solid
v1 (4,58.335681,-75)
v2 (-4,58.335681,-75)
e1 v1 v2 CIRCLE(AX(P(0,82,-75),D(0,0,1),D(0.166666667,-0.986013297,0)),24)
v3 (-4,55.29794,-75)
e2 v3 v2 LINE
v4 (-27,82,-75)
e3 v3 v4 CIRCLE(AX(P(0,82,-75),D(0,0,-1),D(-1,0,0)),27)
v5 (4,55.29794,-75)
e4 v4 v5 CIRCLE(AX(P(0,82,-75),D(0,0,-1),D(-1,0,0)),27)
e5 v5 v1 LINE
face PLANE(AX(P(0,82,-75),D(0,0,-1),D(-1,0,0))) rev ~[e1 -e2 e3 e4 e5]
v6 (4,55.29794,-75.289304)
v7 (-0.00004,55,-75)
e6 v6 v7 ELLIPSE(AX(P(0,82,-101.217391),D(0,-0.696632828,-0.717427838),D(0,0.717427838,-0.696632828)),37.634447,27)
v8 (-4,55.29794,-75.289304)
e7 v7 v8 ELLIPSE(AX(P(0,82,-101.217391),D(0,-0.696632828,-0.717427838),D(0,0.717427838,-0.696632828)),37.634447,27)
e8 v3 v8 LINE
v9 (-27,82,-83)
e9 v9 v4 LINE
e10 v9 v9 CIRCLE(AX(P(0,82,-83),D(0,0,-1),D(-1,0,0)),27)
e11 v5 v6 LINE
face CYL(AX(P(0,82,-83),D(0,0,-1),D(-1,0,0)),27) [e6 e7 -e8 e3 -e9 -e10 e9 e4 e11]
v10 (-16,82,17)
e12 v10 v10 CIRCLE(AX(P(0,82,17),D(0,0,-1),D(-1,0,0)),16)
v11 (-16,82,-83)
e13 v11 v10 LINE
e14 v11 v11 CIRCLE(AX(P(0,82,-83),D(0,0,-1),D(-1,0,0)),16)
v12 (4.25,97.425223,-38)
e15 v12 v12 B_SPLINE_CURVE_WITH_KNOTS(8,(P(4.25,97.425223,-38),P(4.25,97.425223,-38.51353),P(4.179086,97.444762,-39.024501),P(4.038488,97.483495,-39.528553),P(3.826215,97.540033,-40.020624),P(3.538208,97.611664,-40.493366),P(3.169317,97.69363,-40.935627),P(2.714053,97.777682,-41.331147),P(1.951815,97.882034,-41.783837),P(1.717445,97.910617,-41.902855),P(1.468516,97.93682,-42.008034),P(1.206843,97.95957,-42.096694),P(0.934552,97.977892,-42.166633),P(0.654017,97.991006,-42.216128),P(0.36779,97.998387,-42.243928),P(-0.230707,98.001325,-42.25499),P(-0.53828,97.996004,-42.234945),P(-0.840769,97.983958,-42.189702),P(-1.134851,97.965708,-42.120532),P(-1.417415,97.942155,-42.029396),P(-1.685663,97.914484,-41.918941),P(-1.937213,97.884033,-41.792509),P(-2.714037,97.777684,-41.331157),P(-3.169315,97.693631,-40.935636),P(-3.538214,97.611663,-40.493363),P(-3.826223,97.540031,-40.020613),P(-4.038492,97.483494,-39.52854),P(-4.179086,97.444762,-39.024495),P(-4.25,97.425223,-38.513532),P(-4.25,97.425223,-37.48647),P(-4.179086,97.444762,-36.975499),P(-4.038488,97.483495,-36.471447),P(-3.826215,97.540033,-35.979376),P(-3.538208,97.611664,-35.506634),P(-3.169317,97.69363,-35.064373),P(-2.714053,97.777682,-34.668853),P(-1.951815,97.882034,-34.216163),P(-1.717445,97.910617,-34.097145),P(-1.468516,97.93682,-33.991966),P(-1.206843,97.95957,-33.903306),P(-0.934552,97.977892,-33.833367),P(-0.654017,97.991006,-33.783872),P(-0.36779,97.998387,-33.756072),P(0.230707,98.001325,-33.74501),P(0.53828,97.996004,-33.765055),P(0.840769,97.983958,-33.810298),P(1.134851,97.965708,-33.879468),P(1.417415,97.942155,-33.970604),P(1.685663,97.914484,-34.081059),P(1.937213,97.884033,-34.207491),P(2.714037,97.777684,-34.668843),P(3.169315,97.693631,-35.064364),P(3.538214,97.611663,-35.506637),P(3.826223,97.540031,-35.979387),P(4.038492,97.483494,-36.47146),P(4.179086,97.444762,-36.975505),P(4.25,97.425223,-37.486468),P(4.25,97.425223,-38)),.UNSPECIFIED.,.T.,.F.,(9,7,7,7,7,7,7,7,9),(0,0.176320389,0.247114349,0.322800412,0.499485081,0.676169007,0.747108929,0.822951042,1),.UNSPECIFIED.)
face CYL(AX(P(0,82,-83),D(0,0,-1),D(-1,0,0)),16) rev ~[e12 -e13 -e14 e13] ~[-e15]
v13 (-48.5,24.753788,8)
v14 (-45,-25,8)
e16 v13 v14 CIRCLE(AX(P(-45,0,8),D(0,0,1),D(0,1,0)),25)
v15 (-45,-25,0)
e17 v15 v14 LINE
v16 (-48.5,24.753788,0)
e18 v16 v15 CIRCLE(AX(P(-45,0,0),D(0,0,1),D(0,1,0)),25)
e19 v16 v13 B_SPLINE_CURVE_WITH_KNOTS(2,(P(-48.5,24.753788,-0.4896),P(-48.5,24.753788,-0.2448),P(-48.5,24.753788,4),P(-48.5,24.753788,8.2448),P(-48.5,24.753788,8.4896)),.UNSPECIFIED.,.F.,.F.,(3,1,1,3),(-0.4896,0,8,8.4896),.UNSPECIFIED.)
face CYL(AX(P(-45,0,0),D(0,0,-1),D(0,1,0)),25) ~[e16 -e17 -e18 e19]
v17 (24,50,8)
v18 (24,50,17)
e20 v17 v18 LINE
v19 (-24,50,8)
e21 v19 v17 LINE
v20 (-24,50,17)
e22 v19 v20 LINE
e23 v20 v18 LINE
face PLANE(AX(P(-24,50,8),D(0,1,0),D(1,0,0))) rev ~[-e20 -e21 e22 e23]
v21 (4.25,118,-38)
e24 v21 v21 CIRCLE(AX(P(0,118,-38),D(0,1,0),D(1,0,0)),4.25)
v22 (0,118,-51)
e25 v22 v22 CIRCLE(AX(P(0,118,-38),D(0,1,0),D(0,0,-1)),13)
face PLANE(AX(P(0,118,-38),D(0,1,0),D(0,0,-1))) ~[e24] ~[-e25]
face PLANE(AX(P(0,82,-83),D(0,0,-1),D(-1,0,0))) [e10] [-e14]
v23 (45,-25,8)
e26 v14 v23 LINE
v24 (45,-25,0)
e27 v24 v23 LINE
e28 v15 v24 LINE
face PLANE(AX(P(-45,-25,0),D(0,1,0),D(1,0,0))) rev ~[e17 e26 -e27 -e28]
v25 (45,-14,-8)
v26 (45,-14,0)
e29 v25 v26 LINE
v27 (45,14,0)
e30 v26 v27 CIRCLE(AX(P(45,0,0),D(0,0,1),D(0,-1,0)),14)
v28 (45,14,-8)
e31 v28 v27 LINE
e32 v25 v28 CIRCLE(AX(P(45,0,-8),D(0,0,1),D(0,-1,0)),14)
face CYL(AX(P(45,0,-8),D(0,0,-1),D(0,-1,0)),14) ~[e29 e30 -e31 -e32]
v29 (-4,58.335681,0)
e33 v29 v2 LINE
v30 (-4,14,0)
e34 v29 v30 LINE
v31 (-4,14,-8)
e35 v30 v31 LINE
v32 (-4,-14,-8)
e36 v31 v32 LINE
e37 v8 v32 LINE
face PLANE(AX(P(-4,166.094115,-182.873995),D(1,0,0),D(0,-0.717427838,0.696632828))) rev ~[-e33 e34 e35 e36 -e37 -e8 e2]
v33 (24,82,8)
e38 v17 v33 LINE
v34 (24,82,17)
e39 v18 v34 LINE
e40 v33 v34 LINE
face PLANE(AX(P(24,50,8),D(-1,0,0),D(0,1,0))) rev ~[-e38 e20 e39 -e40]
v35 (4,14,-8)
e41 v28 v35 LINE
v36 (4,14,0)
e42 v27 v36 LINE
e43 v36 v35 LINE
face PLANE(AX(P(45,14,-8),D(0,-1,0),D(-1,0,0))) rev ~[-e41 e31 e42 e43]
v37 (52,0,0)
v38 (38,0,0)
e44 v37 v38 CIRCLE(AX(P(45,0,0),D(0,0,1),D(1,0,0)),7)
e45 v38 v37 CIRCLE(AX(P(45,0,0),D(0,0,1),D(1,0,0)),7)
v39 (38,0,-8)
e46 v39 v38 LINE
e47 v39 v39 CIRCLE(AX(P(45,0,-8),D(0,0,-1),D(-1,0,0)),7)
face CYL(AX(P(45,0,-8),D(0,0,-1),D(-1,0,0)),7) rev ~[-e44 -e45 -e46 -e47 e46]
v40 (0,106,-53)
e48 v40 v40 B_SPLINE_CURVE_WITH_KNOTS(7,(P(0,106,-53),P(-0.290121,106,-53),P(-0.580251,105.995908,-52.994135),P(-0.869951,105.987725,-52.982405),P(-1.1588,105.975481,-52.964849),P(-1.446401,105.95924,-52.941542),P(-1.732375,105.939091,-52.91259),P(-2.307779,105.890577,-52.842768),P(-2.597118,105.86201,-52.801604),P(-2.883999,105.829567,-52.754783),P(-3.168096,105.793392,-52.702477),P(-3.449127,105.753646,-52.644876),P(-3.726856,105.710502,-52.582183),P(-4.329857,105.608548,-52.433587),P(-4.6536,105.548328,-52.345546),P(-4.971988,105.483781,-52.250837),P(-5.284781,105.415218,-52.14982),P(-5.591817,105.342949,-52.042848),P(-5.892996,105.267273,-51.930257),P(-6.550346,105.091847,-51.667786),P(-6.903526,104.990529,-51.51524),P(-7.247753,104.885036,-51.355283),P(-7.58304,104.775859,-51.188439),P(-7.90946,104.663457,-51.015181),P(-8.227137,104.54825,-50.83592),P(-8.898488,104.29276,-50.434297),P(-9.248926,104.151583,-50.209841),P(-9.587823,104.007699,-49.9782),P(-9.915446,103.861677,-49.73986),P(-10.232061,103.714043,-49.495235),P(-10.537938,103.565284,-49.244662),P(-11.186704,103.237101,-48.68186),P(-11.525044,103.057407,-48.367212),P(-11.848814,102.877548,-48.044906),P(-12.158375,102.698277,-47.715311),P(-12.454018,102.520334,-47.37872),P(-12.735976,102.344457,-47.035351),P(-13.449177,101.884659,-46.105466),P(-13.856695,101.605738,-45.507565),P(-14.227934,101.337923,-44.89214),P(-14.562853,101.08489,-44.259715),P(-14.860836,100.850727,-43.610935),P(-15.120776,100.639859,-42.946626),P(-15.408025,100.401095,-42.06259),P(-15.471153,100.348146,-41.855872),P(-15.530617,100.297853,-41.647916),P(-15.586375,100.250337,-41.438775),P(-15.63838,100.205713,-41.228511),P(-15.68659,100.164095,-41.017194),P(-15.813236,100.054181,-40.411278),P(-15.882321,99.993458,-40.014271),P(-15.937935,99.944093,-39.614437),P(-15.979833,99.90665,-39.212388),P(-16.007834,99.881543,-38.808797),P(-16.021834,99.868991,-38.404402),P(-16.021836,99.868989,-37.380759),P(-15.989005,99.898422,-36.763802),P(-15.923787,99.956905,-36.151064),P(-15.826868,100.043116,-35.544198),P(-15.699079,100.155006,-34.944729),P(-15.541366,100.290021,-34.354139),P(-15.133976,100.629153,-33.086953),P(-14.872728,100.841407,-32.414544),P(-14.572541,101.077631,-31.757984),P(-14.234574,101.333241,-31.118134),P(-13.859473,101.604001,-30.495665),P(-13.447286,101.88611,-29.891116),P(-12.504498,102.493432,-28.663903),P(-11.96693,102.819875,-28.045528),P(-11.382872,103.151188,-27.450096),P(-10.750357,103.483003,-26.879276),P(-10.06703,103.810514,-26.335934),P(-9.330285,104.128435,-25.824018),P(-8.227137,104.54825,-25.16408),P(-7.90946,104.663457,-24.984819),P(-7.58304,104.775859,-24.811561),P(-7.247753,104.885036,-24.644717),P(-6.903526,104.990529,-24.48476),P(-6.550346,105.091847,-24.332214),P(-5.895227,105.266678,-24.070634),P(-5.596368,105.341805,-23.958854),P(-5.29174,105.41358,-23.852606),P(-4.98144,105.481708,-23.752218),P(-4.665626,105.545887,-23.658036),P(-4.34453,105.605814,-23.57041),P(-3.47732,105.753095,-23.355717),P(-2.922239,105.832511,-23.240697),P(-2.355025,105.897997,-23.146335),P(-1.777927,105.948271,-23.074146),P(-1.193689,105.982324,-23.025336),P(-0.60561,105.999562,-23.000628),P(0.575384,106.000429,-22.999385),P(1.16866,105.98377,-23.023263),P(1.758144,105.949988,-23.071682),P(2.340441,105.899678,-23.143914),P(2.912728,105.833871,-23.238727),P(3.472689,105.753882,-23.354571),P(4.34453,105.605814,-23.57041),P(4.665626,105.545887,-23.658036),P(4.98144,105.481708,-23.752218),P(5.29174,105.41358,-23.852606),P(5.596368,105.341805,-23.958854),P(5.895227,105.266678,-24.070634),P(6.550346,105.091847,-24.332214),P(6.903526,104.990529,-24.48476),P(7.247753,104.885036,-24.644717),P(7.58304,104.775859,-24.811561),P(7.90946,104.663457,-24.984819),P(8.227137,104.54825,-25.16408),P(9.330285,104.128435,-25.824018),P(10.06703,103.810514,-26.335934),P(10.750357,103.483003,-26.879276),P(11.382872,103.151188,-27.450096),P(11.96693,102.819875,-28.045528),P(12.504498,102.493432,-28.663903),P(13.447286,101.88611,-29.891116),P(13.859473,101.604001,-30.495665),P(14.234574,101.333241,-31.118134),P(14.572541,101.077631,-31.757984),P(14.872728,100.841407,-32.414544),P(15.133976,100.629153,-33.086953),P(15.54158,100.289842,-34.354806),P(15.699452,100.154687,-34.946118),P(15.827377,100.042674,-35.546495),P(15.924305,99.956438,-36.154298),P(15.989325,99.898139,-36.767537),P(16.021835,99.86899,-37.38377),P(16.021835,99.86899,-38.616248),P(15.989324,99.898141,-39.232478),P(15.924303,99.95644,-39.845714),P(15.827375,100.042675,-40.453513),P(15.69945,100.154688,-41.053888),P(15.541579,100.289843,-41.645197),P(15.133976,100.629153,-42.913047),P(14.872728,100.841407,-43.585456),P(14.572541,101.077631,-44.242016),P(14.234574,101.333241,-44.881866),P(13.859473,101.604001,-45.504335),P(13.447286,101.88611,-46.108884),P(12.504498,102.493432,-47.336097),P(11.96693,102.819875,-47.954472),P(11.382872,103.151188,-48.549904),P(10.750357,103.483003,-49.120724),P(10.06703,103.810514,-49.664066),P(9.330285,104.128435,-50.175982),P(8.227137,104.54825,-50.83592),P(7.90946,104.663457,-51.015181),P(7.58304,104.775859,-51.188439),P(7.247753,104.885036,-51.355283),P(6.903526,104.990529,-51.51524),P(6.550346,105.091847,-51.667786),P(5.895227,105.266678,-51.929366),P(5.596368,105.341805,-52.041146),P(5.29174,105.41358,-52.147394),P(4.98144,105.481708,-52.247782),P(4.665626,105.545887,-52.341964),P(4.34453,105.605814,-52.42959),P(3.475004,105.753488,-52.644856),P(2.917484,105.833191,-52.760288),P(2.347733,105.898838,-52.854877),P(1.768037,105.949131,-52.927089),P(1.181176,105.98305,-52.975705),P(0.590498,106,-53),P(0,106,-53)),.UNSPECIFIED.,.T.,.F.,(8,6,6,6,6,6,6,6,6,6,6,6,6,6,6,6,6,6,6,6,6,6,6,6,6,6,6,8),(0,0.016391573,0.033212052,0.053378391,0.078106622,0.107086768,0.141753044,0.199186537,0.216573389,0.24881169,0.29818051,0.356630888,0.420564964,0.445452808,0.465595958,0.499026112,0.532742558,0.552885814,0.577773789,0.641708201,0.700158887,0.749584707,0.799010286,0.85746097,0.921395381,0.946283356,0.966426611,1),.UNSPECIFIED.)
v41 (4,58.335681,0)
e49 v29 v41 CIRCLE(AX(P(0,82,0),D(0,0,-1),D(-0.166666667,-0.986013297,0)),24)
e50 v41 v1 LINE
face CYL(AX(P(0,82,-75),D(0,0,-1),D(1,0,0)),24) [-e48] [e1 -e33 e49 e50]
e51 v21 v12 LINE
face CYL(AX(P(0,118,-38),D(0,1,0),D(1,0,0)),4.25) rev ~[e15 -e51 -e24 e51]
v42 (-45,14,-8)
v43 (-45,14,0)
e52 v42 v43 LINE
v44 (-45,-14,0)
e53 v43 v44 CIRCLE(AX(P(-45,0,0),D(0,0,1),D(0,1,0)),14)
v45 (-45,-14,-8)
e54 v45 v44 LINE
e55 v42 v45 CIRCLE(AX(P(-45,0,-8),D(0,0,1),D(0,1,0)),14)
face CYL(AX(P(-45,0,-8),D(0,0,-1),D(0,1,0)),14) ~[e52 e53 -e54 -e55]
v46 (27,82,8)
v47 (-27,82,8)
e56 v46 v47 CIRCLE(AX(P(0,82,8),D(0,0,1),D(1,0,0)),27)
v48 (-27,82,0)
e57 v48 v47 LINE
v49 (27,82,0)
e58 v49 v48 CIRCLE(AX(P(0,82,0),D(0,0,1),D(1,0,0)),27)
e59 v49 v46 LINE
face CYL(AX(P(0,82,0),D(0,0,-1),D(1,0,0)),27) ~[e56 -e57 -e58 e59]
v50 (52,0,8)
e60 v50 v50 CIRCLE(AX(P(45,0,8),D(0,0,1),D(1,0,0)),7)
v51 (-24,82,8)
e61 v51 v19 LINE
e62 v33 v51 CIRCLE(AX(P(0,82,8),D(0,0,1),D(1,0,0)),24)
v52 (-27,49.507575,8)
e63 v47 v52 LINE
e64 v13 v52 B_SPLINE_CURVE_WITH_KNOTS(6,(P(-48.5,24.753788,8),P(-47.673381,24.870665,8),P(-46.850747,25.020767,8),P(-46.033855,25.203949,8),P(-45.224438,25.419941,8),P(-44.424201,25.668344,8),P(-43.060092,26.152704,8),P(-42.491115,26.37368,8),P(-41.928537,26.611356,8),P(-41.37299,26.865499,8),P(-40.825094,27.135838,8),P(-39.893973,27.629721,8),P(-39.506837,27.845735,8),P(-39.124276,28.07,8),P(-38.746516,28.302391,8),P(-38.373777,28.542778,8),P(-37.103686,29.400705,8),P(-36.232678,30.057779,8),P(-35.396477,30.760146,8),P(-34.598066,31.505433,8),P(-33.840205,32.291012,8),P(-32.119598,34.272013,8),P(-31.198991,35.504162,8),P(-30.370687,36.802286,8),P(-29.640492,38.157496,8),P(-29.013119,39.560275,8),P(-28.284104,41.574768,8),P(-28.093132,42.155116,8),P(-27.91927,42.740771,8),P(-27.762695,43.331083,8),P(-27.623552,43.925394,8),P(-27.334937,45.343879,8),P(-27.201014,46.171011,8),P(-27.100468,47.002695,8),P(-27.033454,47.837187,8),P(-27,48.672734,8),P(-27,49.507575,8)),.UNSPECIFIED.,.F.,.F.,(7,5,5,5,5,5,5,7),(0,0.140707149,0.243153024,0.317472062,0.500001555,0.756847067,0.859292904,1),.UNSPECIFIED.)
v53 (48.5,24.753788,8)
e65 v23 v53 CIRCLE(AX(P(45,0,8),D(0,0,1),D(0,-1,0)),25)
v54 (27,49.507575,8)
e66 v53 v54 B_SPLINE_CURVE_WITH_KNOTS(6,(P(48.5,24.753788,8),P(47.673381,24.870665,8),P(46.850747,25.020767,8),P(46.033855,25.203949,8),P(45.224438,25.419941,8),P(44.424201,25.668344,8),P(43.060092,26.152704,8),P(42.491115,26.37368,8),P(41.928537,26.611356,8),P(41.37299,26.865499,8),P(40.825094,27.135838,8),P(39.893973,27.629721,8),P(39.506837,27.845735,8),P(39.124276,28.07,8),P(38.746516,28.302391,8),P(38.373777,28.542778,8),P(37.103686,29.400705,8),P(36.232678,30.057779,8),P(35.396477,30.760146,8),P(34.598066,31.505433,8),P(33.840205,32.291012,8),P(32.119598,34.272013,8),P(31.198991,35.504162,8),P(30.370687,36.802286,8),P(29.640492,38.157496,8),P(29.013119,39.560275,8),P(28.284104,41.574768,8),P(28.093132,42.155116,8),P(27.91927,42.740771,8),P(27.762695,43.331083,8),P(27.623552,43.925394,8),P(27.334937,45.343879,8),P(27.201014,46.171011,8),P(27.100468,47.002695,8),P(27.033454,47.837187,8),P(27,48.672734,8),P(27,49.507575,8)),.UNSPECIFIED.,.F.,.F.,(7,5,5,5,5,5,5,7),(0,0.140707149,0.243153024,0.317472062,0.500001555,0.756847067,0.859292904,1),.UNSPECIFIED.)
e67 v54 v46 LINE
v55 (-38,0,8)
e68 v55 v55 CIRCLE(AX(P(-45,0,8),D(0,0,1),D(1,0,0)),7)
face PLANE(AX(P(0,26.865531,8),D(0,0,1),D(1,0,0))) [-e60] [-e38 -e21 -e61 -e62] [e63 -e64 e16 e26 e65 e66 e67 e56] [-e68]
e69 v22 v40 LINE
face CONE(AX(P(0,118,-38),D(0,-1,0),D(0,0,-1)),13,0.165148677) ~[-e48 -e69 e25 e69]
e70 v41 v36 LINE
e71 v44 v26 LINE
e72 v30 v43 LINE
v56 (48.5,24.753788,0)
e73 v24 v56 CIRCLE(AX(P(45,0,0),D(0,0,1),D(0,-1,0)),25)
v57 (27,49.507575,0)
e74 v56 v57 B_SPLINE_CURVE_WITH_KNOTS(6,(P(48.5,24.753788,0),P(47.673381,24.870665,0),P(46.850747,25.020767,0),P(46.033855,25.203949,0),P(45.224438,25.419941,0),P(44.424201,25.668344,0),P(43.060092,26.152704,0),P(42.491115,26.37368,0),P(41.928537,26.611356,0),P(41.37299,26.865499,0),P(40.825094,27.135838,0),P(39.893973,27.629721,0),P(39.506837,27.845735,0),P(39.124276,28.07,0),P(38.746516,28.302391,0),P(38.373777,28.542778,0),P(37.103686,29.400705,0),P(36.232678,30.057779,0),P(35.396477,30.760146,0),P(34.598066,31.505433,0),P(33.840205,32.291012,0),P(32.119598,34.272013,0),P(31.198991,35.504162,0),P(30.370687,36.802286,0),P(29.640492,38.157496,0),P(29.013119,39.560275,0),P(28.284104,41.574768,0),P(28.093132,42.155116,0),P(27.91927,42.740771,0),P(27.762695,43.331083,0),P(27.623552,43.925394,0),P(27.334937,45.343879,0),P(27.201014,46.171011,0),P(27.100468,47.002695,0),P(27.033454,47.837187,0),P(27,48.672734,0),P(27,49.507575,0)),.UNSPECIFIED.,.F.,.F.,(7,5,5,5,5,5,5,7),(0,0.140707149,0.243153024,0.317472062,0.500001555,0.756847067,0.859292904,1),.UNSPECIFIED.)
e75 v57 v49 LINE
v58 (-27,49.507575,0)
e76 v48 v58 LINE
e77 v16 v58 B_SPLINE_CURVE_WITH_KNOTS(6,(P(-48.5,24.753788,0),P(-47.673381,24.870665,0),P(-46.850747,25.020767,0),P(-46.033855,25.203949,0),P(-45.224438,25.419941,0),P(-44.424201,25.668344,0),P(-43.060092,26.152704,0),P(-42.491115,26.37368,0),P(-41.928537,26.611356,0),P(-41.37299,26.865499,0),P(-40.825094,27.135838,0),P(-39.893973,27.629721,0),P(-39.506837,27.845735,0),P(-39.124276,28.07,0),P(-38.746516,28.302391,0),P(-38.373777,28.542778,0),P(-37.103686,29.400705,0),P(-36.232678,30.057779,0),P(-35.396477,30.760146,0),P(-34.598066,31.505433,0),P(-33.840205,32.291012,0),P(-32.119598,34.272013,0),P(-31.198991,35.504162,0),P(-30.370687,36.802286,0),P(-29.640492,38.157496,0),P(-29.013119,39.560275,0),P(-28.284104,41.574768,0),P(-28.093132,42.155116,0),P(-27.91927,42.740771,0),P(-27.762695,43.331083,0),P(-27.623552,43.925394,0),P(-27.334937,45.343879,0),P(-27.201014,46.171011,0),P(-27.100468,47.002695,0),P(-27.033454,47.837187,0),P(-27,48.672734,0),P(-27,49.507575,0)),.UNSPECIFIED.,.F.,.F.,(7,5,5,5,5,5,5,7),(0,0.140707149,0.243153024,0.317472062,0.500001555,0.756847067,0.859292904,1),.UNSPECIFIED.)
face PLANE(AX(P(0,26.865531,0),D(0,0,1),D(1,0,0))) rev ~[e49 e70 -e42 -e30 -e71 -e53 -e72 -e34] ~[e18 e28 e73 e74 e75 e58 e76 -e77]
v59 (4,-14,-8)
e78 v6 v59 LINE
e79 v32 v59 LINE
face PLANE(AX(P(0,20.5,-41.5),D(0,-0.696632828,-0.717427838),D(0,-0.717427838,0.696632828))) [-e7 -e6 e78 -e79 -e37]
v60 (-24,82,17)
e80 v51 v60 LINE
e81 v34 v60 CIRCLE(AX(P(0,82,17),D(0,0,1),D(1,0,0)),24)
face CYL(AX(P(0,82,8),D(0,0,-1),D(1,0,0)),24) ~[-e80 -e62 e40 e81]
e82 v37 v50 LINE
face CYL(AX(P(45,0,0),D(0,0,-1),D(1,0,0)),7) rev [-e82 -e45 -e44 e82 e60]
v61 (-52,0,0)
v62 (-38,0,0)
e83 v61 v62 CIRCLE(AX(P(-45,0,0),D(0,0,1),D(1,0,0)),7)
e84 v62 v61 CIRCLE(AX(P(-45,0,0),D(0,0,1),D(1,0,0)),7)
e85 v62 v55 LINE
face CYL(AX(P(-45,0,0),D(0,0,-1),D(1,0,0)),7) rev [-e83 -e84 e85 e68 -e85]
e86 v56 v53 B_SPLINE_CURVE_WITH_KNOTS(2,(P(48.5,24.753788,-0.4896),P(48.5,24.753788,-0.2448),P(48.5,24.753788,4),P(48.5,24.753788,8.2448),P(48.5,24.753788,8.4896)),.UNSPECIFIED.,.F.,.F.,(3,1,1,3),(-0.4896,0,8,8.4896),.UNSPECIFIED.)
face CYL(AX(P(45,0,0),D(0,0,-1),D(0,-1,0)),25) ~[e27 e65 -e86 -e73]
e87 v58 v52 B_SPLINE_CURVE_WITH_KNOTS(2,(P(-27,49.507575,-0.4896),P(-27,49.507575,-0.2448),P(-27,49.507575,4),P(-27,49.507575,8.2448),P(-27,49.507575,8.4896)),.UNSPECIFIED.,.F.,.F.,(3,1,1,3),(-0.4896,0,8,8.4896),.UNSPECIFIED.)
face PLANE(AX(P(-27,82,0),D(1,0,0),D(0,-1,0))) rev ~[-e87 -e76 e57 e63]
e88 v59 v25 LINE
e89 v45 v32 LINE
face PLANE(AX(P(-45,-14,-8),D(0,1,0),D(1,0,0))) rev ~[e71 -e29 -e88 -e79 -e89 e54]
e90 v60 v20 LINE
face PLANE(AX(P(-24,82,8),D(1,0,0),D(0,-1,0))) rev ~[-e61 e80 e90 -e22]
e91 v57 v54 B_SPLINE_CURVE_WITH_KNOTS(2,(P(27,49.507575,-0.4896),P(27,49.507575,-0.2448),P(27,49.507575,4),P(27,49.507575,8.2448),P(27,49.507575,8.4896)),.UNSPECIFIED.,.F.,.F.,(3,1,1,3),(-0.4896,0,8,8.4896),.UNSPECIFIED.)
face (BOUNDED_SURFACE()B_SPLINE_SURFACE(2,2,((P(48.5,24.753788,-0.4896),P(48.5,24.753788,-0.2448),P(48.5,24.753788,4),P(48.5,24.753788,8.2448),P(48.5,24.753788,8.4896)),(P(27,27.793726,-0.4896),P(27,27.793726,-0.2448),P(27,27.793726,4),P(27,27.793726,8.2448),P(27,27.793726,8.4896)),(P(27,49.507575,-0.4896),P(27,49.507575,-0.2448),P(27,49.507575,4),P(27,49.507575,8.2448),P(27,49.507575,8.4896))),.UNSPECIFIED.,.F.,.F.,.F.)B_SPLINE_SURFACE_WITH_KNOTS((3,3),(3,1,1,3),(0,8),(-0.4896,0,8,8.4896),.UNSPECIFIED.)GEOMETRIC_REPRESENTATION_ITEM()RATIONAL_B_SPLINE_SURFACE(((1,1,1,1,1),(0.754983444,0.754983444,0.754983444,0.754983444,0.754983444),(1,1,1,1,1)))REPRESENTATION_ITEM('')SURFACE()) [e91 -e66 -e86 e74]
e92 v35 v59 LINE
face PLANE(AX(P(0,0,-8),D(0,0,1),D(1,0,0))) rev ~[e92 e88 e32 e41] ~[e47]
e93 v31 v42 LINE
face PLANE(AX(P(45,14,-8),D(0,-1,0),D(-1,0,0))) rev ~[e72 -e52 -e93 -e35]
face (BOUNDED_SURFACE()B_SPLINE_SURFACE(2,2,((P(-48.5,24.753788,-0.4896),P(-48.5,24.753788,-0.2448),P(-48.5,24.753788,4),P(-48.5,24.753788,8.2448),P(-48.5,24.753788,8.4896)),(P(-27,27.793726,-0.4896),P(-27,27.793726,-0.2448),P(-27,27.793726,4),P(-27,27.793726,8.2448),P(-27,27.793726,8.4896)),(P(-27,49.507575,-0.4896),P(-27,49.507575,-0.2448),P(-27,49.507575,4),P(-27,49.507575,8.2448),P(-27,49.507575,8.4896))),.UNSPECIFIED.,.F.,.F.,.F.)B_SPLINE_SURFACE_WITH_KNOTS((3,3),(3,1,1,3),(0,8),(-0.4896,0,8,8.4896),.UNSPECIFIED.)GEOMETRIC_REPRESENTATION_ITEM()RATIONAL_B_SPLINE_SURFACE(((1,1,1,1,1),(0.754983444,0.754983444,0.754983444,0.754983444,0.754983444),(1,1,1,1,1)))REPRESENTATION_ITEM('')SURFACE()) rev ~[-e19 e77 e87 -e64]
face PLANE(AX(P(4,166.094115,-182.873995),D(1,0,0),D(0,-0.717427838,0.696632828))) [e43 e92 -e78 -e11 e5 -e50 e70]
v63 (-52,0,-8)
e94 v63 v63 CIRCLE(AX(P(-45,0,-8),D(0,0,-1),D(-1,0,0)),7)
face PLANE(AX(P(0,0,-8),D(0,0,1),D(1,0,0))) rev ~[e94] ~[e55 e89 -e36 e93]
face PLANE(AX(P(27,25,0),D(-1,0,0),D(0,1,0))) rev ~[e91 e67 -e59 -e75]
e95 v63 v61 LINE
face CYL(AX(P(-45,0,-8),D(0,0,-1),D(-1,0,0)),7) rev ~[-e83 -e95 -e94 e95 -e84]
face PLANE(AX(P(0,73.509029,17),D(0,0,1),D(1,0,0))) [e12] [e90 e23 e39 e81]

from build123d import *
from build123d.topology import SkipClean

# Parameters (mm, degrees)
SKETCH_1_R               = 7
EXTRUDE_1_DEPTH          = 8
FILLET_1_R               = 25
EXTRUDE_2_DEPTH          = 9
EXTRUDE_START            = 75
SKETCH_3_R               = 24
EXTRUDE_3_DEPTH          = 75
EXTRUDE_START_2          = 8
SKETCH_4_R               = 27
EXTRUDE_4_DEPTH          = 8
SKETCH_5_R               = 7
EXTRUDE_5_DEPTH          = 8
RIB_1_REACH              = 155.851
SKETCH_6_WALL_W          = 405.87807426
SKETCH_6_WALL_H          = 8
SKETCH_8_R               = 16
CUT_EXTRUDE_1_DEPTH      = 170.776323548
HOLE_WIZARD_M10_1_REACH  = 181.549
HOLE_WIZARD_M10_1_BORE_R = 4.25


with BuildPart() as part:
    # 草图1 → 凸台-拉伸1 (new body)
    with BuildSketch(Plane.XY):
        with BuildLine():
            Line((-45, -25), (45, -25))
            ThreePointArc((45, -25), (70, 0), (45, 25))
            Line((45, 25), (27, 25))
            Line((27, 25), (27, 82))
            ThreePointArc((27, 82), (0, 109), (-27, 82))
            Line((-27, 82), (-27, 25))
            Line((-27, 25), (-45, 25))
            ThreePointArc((-45, 25), (-70, 0), (-45, -25))
        make_face()
        with Locations((-45, 0)):
            Circle(SKETCH_1_R, mode=Mode.SUBTRACT)
        with Locations((45, 0)):
            Circle(SKETCH_1_R, mode=Mode.SUBTRACT)
    extrude(amount=EXTRUDE_1_DEPTH)

    # 圆角1
    fillet_1_edges = [part.edges().sort_by_distance(p)[0] for p in [
        (-27, 25, 4),
        (27, 25, 4),
    ]]
    fillet(fillet_1_edges, radius=FILLET_1_R)

    # 草图2 → 凸台-拉伸2 (add)
    with BuildSketch(Plane.XY.offset(8)):
        with BuildLine():
            Line((-24, 82), (-24, 50))
            Line((-24, 50), (24, 50))
            Line((24, 50), (24, 82))
            ThreePointArc((24, 82), (0, 106), (-24, 82))
        make_face()
    extrude(amount=EXTRUDE_2_DEPTH)

    # 草图3 → 凸台-拉伸3 (add)
    with BuildSketch(Plane(origin=(0, 0, 0), x_dir=(-1, 0, 0), z_dir=(0, 0, -1)).offset(EXTRUDE_START)):
        with Locations(Location((0, 82, 0), (0, 0, 180))):
            Circle(SKETCH_3_R)
    extrude(amount=-EXTRUDE_3_DEPTH)

    # 草图4 → 凸台-拉伸4 (add)
    with BuildSketch(Plane(origin=(0, 0, -75), x_dir=(-1, 0, 0), z_dir=(0, 0, -1)).offset(EXTRUDE_START_2)):
        with Locations((0, 82)):
            Circle(SKETCH_4_R)
    extrude(amount=-EXTRUDE_4_DEPTH)

    # 草图5 → 凸台-拉伸5 (add)
    with SkipClean():  # the faces are left unmerged after this step: merging them gives an invalid solid
        with BuildSketch(Plane(origin=(0, 0, 0), x_dir=(-1, 0, 0), z_dir=(0, 0, -1)).offset(EXTRUDE_START_2)):
            with BuildLine():
                Line((-45, 14), (45, 14))
                ThreePointArc((45, 14), (59, 0), (45, -14))
                Line((45, -14), (-45, -14))
                ThreePointArc((-45, -14), (-59, 0), (-45, 14))
            make_face()
            with Locations((45, 0)):
                Circle(SKETCH_5_R, mode=Mode.SUBTRACT)
            with Locations((-45, 0)):
                Circle(SKETCH_5_R, mode=Mode.SUBTRACT)
        extrude(amount=-EXTRUDE_5_DEPTH)

    # 草图6 wall → 筋1 (add, up to next)
    with BuildSketch(Plane(origin=(0, 20.5, -41.5), x_dir=(0, -0.717427837976, 0.696632828179), z_dir=(0, -0.696632828179, -0.717427837976)), mode=Mode.PRIVATE) as rib_1_sk1:
        Rectangle(SKETCH_6_WALL_W, SKETCH_6_WALL_H)
    rib_1_tool1 = extrude(rib_1_sk1.sketch, amount=-RIB_1_REACH, mode=Mode.PRIVATE) - part.part
    add(rib_1_tool1.solids().sort_by_distance((0, 20.5, -41.5))[0])

    # 草图7 → 旋转1 (revolve)
    with BuildSketch(Plane(origin=(0, 0, 0), x_dir=(0, 0, -1), z_dir=(1, 0, 0))):
        Polygon((38, 106), (38, 118), (51, 118), (54.333333333, 98), (38, 98), align=None)
    revolve(axis=Axis((0, 106, -38), (0, 1, 0)))

    # 草图8 → 切除-拉伸1 (cut, through all)
    with BuildSketch(Plane(origin=(0, 0, -83), x_dir=(-1, 0, 0), z_dir=(0, 0, -1))):
        with Locations((0, 82)):
            Circle(SKETCH_8_R)
    extrude(amount=-CUT_EXTRUDE_1_DEPTH, mode=Mode.SUBTRACT)

    # M10 螺纹孔1 bore → M10 螺纹孔1 (cut, up to next)
    with BuildSketch(Plane(origin=(0, 118, 0), x_dir=(1, 0, 0), z_dir=(0, 1, 0)), mode=Mode.PRIVATE) as hole_wizard_m10_1_sk1:
        with Locations((0, 38)):
            Circle(HOLE_WIZARD_M10_1_BORE_R)
    hole_wizard_m10_1_tool1 = extrude(hole_wizard_m10_1_sk1.sketch, amount=-HOLE_WIZARD_M10_1_REACH, mode=Mode.PRIVATE) & part.part
    add(hole_wizard_m10_1_tool1.solids().sort_by_distance((0, 118, -38))[0], mode=Mode.SUBTRACT)


solid = part.part
